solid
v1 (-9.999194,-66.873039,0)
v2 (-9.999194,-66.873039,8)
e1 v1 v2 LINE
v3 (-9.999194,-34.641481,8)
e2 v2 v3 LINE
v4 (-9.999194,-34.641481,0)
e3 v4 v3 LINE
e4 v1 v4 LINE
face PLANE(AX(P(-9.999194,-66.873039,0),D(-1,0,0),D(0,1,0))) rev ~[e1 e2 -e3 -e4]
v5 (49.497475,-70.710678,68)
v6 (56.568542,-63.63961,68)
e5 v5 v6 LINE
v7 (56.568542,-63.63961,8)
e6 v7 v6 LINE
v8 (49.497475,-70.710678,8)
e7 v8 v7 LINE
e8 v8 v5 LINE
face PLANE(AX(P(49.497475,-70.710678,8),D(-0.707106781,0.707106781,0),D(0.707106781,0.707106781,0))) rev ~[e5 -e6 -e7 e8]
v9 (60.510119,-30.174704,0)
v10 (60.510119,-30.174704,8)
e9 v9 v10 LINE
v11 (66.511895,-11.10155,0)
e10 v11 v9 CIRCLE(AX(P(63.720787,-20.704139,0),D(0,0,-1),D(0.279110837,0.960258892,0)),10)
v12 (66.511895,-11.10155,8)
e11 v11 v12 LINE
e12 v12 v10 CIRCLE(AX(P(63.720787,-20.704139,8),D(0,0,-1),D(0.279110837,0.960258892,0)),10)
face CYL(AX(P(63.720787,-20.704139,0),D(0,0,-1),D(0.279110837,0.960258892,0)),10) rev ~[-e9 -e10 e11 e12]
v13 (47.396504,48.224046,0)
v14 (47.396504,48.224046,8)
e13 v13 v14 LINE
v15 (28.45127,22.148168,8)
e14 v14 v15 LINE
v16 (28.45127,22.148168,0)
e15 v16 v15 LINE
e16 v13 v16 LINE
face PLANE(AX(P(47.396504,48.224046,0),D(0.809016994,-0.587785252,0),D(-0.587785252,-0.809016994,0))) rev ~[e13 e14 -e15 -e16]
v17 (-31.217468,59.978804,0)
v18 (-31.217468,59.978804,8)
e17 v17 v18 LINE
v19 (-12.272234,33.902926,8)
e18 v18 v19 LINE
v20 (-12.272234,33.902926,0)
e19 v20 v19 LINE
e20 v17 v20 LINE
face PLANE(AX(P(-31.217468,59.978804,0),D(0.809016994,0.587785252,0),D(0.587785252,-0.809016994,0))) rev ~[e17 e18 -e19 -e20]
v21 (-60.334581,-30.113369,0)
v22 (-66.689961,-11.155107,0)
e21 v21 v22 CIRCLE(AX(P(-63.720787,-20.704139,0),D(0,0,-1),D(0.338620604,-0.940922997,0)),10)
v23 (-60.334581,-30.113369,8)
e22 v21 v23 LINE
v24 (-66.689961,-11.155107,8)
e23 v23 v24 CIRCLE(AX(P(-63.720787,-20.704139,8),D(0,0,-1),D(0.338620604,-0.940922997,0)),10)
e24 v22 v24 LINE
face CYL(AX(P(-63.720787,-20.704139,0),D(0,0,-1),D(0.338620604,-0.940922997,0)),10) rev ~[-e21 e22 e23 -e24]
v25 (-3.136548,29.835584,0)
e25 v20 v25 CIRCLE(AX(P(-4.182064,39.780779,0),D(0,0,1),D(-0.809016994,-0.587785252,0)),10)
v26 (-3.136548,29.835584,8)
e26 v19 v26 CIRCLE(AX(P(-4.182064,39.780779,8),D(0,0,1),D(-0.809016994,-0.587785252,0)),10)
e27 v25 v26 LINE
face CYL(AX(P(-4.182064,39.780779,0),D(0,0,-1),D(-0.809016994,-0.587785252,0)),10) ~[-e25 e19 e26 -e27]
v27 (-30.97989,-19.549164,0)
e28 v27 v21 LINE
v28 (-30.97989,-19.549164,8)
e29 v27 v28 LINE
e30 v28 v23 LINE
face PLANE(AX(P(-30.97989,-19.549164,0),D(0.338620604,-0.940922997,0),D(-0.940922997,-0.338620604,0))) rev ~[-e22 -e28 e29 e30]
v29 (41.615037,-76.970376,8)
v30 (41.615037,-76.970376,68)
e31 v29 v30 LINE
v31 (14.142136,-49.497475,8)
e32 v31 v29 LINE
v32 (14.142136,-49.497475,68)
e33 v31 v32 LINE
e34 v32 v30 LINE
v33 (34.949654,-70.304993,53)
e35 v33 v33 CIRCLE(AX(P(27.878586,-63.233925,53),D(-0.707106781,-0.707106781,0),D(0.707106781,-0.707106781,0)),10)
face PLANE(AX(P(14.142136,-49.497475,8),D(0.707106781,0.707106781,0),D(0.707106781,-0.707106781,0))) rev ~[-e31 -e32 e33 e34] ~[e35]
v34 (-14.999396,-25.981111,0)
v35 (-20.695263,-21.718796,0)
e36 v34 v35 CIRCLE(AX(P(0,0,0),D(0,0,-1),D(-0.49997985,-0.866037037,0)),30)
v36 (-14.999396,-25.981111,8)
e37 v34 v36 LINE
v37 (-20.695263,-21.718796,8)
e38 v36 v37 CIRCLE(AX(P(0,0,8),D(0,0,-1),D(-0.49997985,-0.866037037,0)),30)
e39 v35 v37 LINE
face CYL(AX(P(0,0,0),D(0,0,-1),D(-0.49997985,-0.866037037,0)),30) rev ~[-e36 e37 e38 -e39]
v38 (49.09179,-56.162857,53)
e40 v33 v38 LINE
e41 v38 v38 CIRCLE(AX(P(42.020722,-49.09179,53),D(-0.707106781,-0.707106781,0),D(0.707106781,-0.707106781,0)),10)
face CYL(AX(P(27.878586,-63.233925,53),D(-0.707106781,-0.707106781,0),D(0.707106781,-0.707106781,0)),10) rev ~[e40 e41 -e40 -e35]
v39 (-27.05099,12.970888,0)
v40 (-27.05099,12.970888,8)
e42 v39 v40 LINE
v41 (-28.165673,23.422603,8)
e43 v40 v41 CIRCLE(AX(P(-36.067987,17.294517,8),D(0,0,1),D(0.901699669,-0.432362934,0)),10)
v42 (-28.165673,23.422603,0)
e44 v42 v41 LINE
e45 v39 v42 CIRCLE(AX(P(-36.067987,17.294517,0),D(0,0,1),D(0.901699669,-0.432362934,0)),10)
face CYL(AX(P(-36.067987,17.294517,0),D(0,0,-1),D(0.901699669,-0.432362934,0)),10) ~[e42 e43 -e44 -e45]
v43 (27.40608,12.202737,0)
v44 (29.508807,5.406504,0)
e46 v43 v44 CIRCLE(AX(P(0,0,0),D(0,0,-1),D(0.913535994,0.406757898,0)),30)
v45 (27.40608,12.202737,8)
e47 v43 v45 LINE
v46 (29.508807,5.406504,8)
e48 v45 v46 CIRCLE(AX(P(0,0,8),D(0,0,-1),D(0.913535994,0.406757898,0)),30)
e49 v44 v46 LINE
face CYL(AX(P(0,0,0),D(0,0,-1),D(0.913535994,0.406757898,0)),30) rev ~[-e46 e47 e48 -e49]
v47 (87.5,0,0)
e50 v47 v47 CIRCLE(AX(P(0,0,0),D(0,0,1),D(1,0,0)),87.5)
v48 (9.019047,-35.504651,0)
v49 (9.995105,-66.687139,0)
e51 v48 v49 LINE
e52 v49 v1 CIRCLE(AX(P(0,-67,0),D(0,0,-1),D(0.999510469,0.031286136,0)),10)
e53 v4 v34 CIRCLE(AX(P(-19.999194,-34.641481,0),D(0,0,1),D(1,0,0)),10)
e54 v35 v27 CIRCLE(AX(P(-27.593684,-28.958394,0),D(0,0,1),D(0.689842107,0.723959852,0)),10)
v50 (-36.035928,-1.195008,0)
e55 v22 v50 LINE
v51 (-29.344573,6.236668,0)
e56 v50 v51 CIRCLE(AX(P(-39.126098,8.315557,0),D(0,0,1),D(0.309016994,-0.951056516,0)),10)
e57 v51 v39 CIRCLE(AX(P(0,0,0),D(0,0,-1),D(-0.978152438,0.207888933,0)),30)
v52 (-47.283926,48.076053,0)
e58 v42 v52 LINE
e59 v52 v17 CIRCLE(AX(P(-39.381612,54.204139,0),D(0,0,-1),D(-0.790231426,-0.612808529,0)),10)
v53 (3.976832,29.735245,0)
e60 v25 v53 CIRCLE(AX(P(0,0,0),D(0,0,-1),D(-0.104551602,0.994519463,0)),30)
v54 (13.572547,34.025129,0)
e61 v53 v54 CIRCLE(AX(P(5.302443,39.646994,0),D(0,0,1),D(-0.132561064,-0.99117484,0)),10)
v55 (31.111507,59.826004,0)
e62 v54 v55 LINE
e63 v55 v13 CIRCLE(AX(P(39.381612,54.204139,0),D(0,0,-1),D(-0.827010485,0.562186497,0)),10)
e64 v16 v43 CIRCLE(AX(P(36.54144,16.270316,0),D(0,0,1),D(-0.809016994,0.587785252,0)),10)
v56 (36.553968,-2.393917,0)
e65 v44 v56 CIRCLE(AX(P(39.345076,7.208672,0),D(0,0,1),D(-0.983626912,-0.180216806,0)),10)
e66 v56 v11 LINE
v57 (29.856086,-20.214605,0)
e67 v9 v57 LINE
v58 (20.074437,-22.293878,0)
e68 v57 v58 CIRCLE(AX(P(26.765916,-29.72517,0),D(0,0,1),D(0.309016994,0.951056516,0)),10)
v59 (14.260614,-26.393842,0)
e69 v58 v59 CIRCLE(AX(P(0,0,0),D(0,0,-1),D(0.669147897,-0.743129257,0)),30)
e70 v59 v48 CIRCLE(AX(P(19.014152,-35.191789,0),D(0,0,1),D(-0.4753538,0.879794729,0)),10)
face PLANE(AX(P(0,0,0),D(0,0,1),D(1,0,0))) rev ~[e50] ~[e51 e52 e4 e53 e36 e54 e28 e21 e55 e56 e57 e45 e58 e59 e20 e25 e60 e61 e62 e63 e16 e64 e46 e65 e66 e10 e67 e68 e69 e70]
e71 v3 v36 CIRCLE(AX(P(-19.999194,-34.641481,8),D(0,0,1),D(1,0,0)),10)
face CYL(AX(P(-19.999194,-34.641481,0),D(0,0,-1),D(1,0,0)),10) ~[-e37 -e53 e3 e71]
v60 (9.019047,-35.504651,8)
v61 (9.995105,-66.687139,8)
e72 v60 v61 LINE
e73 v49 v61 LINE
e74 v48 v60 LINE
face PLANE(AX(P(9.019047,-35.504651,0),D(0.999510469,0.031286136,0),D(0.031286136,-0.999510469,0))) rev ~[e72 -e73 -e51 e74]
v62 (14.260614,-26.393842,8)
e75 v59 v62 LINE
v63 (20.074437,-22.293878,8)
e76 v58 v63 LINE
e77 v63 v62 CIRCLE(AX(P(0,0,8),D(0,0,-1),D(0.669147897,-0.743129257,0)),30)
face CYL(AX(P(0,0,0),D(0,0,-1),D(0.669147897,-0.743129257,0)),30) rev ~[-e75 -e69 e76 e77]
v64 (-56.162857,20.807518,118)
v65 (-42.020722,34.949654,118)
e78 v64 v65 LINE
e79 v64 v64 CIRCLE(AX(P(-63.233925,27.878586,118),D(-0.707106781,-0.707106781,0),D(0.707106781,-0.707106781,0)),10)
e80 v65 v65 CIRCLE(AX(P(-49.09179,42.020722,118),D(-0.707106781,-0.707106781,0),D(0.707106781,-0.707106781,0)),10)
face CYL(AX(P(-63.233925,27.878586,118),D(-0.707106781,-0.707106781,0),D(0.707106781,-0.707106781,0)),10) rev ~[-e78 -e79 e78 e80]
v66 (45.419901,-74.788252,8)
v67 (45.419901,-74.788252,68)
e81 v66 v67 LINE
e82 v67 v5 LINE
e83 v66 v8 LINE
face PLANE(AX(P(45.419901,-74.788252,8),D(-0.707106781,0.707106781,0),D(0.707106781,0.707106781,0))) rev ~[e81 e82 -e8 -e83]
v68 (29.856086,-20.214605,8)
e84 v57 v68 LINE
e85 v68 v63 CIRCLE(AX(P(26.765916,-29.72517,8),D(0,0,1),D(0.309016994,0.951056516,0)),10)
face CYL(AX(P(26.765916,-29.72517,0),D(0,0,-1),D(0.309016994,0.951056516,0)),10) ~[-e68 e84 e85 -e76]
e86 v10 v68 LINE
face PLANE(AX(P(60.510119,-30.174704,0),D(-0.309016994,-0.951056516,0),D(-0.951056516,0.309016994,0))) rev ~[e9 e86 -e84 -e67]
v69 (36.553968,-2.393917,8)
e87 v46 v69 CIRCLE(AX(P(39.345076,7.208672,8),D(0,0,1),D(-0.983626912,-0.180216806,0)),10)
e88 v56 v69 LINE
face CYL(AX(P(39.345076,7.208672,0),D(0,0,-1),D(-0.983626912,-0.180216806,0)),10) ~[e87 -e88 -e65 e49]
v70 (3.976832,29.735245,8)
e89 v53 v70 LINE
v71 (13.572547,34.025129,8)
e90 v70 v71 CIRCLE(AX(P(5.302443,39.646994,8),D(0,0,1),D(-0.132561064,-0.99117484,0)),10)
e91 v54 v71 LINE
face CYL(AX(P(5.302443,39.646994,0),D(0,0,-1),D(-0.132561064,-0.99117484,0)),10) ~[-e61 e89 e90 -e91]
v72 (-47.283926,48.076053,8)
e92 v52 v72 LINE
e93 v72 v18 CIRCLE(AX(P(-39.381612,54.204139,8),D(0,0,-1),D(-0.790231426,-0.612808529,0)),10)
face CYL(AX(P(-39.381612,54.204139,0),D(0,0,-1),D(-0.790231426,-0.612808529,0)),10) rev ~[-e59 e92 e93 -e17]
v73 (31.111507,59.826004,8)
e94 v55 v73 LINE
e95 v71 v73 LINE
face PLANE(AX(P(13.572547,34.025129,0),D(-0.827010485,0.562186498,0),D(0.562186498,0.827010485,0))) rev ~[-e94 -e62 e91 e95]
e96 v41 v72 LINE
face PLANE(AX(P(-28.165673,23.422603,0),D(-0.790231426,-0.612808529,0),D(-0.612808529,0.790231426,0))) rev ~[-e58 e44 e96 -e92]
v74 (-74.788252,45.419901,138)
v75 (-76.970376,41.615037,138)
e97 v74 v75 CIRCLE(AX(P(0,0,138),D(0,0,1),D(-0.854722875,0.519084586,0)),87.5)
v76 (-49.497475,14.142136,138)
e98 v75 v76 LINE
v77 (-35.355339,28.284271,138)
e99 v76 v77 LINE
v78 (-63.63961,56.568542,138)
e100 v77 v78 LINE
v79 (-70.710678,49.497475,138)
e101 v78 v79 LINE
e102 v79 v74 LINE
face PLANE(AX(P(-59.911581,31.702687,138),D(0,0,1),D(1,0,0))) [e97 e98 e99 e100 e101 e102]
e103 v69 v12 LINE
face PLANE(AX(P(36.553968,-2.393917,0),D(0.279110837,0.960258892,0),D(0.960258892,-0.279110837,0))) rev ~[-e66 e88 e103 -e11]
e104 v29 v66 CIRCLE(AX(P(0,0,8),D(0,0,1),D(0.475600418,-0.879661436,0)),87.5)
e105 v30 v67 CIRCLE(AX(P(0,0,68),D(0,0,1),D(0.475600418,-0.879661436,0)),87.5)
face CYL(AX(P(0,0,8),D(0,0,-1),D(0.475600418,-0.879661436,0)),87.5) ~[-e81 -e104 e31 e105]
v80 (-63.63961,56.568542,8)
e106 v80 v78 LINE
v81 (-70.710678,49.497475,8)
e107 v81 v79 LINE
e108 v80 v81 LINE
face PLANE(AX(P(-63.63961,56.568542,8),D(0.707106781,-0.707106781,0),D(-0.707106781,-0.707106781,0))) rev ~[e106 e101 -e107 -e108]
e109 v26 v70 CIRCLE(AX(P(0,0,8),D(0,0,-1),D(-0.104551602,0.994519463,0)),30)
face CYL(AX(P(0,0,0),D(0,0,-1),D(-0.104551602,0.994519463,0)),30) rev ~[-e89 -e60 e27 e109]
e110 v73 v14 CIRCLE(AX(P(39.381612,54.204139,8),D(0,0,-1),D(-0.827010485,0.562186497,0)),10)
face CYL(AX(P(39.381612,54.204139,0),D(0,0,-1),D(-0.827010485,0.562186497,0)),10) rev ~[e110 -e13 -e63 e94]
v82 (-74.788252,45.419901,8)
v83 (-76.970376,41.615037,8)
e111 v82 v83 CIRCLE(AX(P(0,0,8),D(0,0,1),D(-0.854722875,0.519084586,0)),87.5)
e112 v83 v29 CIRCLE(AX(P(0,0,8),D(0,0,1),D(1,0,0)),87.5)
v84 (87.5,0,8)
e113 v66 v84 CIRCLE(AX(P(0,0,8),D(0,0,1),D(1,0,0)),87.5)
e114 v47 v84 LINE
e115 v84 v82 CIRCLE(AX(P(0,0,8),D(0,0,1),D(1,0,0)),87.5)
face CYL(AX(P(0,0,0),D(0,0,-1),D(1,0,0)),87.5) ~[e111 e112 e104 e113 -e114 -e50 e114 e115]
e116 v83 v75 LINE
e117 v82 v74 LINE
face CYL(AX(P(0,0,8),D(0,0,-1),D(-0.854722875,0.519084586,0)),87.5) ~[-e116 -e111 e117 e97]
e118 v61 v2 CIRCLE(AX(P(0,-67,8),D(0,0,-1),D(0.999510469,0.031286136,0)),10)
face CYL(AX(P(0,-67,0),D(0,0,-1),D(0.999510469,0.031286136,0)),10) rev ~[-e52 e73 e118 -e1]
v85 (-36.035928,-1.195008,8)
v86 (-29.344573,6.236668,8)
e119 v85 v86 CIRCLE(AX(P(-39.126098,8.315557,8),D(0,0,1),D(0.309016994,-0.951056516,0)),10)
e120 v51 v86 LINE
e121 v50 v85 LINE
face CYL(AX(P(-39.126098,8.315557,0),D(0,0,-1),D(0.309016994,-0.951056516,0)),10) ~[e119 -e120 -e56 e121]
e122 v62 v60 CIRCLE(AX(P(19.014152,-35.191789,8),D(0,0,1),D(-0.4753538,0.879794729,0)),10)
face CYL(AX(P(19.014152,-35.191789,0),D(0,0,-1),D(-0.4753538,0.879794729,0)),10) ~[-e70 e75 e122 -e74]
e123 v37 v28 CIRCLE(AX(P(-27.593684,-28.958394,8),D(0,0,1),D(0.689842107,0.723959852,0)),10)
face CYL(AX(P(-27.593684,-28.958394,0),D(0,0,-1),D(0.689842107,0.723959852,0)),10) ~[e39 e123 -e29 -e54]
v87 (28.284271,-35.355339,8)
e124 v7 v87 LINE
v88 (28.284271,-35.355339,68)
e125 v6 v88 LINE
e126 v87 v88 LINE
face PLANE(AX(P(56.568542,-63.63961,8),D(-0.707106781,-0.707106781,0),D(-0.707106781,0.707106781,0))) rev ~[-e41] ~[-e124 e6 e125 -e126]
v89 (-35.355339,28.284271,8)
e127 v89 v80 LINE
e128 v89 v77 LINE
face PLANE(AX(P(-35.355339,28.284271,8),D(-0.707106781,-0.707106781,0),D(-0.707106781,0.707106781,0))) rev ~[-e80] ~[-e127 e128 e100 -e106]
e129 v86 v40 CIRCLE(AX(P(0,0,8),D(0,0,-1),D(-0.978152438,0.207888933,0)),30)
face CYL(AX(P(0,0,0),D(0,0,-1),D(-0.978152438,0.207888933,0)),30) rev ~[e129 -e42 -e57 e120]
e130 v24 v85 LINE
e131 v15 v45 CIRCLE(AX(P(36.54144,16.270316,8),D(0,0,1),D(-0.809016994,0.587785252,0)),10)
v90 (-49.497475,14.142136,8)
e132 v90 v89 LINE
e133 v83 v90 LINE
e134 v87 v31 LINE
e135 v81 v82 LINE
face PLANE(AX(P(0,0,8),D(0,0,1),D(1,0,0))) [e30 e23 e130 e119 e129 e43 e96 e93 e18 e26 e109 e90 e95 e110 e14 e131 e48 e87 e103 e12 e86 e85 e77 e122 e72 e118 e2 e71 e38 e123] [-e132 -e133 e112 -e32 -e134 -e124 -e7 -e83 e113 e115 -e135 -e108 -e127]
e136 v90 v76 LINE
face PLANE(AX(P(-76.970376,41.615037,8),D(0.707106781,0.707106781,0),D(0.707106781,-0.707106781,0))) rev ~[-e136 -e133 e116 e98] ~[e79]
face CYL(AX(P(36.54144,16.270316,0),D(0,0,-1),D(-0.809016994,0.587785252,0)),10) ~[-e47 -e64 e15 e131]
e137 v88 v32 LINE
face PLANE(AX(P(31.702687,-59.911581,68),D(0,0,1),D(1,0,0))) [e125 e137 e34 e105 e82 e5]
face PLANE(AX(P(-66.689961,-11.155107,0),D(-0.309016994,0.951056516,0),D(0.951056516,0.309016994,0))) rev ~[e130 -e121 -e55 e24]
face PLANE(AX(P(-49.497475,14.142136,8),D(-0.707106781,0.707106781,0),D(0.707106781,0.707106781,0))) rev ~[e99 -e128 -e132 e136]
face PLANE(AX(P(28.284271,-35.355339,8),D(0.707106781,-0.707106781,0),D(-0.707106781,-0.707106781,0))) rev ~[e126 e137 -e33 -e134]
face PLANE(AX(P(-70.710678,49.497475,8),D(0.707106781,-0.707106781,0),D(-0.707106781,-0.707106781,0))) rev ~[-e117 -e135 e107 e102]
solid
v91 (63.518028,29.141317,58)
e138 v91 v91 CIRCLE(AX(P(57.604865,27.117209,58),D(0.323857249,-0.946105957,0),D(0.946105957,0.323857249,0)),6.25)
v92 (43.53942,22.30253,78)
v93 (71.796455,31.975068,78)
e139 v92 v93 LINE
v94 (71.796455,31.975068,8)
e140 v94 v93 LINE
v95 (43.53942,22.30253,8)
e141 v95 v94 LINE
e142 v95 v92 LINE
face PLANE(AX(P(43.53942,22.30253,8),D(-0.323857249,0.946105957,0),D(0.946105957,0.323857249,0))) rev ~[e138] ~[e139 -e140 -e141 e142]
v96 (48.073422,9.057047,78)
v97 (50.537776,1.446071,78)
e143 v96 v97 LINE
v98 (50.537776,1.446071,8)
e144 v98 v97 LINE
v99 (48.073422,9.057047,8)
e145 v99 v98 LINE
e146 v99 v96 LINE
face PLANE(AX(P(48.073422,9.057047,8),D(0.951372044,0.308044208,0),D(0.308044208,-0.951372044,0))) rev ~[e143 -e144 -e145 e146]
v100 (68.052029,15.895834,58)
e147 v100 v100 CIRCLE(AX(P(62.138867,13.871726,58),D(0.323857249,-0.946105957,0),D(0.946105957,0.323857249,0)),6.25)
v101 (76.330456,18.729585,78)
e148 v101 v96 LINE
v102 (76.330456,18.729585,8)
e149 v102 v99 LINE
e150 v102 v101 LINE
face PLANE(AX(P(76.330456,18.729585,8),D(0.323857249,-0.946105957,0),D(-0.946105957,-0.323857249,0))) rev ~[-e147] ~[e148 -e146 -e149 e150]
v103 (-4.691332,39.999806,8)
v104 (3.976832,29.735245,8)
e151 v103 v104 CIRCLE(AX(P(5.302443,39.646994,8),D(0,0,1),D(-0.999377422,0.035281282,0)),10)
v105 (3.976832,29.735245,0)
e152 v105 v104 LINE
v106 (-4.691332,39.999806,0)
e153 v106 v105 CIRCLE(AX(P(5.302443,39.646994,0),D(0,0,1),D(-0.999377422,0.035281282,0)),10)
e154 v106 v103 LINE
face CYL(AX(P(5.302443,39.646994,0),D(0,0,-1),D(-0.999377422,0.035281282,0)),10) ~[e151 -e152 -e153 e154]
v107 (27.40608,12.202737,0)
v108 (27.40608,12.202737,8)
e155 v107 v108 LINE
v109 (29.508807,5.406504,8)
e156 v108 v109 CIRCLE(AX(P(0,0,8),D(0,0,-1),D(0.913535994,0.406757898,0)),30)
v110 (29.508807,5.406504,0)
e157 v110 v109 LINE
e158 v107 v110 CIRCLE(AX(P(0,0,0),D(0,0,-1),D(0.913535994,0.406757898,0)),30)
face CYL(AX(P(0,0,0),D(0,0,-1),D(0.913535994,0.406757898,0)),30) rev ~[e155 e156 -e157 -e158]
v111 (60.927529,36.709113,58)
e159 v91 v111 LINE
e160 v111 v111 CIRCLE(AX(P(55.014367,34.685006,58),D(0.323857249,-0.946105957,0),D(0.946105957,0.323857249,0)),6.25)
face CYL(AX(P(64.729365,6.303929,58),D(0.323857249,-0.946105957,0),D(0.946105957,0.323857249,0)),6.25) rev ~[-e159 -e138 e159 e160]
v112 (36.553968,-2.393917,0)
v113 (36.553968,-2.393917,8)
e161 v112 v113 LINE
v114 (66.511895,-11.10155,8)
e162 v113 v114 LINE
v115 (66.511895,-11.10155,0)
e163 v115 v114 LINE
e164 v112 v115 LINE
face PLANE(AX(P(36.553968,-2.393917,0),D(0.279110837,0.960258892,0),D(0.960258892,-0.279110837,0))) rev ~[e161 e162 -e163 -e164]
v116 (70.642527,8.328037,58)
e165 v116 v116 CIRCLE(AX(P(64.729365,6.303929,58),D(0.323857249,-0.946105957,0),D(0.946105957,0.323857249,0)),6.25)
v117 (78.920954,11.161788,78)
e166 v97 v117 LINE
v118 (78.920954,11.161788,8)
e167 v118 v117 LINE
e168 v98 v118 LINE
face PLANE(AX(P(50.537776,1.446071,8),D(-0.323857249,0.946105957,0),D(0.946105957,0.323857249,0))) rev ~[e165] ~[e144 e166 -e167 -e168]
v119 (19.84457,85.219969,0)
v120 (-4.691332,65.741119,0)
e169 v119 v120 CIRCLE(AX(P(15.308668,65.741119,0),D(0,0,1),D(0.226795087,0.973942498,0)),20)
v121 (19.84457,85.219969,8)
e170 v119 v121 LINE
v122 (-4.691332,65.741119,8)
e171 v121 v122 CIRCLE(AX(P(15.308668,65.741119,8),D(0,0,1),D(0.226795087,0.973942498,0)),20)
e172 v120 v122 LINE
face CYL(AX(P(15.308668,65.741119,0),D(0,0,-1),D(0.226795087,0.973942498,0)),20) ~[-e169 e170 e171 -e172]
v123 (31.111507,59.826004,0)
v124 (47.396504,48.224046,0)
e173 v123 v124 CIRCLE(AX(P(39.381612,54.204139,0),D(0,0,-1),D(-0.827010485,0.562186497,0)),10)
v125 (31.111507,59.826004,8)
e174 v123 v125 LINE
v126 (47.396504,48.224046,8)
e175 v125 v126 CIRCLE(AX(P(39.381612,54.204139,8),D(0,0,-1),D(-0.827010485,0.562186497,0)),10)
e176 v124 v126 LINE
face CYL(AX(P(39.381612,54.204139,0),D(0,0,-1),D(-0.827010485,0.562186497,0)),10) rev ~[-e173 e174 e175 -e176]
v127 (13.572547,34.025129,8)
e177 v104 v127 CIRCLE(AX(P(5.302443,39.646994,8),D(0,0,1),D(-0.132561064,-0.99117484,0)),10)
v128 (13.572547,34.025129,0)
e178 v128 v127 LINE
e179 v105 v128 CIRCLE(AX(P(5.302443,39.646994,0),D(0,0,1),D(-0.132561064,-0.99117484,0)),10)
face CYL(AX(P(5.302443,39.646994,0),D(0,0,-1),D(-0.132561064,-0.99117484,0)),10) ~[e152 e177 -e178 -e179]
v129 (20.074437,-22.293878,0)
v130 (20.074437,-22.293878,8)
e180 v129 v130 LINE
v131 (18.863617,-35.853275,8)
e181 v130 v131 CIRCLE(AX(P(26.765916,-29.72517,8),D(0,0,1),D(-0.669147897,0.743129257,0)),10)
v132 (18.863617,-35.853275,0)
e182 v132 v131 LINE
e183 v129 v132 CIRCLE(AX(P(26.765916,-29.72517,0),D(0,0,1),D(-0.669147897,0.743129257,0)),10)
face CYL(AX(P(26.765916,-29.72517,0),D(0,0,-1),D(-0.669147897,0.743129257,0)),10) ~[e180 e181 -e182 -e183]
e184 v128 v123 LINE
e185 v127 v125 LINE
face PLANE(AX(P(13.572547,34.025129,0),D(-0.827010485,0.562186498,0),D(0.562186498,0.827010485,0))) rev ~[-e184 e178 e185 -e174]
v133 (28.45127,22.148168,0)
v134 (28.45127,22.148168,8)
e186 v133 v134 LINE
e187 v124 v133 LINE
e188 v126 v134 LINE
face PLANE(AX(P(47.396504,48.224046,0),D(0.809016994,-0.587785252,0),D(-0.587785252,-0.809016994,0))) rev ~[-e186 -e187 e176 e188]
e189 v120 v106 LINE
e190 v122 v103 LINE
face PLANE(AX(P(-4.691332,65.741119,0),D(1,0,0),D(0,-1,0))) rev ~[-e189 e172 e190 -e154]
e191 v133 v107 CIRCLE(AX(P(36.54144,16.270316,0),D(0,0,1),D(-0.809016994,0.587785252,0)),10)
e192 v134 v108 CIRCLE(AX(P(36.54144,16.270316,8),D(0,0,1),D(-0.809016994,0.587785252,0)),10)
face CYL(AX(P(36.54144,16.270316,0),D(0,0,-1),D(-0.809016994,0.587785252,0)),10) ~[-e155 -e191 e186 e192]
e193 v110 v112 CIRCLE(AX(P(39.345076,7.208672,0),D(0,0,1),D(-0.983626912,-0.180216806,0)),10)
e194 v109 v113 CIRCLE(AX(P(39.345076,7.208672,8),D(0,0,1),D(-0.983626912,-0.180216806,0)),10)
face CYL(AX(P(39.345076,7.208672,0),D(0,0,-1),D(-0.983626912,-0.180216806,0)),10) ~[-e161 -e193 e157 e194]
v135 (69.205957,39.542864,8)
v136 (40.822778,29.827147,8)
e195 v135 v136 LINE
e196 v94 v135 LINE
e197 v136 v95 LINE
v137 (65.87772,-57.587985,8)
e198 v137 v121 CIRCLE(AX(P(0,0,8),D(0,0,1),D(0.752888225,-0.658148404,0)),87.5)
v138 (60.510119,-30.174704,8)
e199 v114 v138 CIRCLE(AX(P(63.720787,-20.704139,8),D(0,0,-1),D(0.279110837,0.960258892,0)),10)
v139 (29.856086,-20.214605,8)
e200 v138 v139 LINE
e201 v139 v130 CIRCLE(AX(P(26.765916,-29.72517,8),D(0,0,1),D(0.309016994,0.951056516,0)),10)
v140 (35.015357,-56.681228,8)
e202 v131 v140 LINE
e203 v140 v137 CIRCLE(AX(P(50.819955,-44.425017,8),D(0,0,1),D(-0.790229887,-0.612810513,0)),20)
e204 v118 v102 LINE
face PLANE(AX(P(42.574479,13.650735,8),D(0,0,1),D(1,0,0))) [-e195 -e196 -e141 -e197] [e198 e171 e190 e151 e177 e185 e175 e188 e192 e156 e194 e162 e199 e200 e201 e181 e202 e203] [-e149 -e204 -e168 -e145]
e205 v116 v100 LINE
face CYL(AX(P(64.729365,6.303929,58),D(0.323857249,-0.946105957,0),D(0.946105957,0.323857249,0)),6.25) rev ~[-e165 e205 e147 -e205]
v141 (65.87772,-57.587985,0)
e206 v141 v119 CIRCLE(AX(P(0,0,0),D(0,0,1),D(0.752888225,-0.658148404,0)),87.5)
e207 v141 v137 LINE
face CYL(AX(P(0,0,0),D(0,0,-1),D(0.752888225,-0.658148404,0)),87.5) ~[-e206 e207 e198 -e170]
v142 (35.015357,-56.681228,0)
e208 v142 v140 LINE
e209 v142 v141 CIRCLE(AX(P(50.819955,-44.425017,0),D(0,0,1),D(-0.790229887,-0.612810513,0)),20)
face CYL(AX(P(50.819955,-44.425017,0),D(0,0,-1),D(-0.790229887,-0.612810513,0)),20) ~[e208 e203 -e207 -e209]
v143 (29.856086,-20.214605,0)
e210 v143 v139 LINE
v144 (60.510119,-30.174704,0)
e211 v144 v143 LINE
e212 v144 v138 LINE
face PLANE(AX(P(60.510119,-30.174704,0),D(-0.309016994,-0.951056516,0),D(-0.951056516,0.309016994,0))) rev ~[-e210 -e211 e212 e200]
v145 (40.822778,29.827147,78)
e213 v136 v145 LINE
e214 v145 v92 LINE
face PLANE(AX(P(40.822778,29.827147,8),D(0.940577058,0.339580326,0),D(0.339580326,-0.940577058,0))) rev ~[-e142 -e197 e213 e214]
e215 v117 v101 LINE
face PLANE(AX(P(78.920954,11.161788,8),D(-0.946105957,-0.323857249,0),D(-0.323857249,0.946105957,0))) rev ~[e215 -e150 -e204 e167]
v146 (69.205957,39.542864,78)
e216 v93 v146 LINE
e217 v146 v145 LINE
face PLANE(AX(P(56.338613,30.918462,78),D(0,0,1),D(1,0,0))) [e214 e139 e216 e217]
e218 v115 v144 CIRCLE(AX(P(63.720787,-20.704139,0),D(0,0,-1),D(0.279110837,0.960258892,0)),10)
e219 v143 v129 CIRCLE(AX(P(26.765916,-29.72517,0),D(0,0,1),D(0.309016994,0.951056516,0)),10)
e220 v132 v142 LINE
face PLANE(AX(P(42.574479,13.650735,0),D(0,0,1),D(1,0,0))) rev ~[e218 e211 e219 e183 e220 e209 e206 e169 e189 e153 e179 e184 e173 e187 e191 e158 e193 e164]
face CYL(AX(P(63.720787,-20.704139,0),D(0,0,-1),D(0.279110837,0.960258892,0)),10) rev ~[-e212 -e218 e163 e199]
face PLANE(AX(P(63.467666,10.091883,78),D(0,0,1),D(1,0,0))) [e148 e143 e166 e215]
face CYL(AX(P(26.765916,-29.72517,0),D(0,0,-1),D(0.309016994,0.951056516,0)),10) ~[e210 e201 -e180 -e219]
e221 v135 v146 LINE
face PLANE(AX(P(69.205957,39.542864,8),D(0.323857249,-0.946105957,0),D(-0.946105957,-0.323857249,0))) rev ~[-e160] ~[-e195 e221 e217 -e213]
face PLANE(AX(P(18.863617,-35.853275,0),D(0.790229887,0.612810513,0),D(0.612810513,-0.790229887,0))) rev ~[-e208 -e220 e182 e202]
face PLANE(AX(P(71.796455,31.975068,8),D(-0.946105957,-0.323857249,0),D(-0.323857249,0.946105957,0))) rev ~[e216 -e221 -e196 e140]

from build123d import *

# Parameters (mm, degrees)
F0_R      = 87.5
F1_DEPTH  = 8
F3_DEPTH  = 60
F4_DEPTH  = 130
F5_R      = 10
F6_DEPTH  = 148.7446867076
F7_R      = 10
F8_DEPTH  = 148.7446867076
F10_DEPTH = 8
F12_DEPTH = 70
F13_R     = 6.25
F14_DEPTH = 126.1216693821


with BuildPart() as f1:
    # F0 (on Top) → F1 (new body)
    with BuildSketch(Plane.XY):
        Circle(F0_R)
        with BuildLine():
            ThreePointArc((9.9951046903, -66.6871386401), (0.0929727344, -76.9995677942), (-9.9991940145, -66.8730391372))
            Line((-9.9991940145, -66.8730391372), (-9.9991940145, -34.6414814748))
            ThreePointArc((-9.9991940145, -34.6414814748), (-11.3389981438, -29.6413807277), (-14.9993955109, -25.9811111061))
            ThreePointArc((-14.9993955109, -25.9811111061), (-17.9741202524, -24.0193880262), (-20.6952632149, -21.7187955575))
            ThreePointArc((-20.6952632149, -21.7187955575), (-25.5295285859, -19.1737499214), (-30.9798903314, -19.549164107))
            Line((-30.9798903314, -19.549164107), (-60.3345805469, -30.1133685928))
            ThreePointArc((-60.3345805469, -30.1133685928), (-73.2022105476, -23.8825973329), (-66.6899605164, -11.1551069337))
            Line((-66.6899605164, -11.1551069337), (-36.0359275713, -1.1950078609))
            ThreePointArc((-36.0359275713, -1.1950078609), (-31.6945714187, 1.6243376914), (-29.3445731363, 6.2366679766))
            ThreePointArc((-29.3445731363, 6.2366679766), (-28.3981041167, 9.6720050961), (-27.0509900775, 12.9708880124))
            ThreePointArc((-27.0509900775, 12.9708880124), (-26.124377996, 18.355009948), (-28.1656725083, 23.4226026389))
            Line((-28.1656725083, 23.4226026389), (-47.2839261652, 48.076053334))
            ThreePointArc((-47.2839261652, 48.076053334), (-45.3344269045, 62.2393109029), (-31.2174682931, 59.978803904))
            Line((-31.2174682931, 59.978803904), (-12.2722340407, 33.902926))
            ThreePointArc((-12.2722340407, 33.902926), (-8.2493242518, 30.6452766301), (-3.1365480727, 29.8355838922))
            ThreePointArc((-3.1365480727, 29.8355838922), (0.4231266922, 29.997015915), (3.9768319177, 29.7352452134))
            ThreePointArc((3.9768319177, 29.7352452134), (9.3837750494, 30.5177699331), (13.5725474053, 34.0251286428))
            Line((13.5725474053, 34.0251286428), (31.1115070552, 59.8260035981))
            ThreePointArc((31.1115070552, 59.8260035981), (45.1839938601, 62.3486069072), (47.3965040686, 48.224046351))
            Line((47.3965040686, 48.224046351), (28.4512698162, 22.1481684469))
            ThreePointArc((28.4512698162, 22.1481684469), (26.5962086468, 17.3154848607), (27.40607982, 12.202736943))
            ThreePointArc((27.40607982, 12.202736943), (28.659610794, 8.8671703004), (29.5088073701, 5.4065041933))
            ThreePointArc((29.5088073701, 5.4065041933), (31.9238699193, 0.5060091315), (36.5539681187, -2.3939166661))
            Line((36.5539681187, -2.3939166661), (66.5118949666, -11.1015496993))
            ThreePointArc((66.5118949666, -11.1015496993), (73.2596708575, -23.705752683), (60.5101187554, -30.1747041841))
            Line((60.5101187554, -30.1747041841), (29.8560858102, -20.2146051112))
            ThreePointArc((29.8560858102, -20.2146051112), (24.6866851674, -19.9437184545), (20.0744368999, -22.2938777056))
            ThreePointArc((20.0744368999, -22.2938777056), (17.2894868828, -24.5168032853), (14.2606140045, -26.3938418616))
            ThreePointArc((14.2606140045, -26.3938418616), (10.3462616131, -30.2050390912), (9.0190473158, -35.5046505087))
            Line((9.0190473158, -35.5046505087), (9.9951046903, -66.6871386401))
        make_face(mode=Mode.SUBTRACT)
    extrude(amount=F1_DEPTH)

    # F2 (on face) → F3 (join)
    with BuildSketch(Plane.XY.offset(8)):
        with BuildLine():
            Line((45.4199012453, -74.7882515564), (49.4974746831, -70.7106781187))
            Line((49.4974746831, -70.7106781187), (21.2132034356, -42.4264068712))
            Line((21.2132034356, -42.4264068712), (14.1421356237, -49.4974746831))
            Line((14.1421356237, -49.4974746831), (41.6150365985, -76.9703756578))
            ThreePointArc((41.6150365985, -76.9703756578), (43.5311442276, -75.9031585788), (45.4199012453, -74.7882515564))
        make_face()
        Polygon((21.2132034356, -42.4264068712), (49.4974746831, -70.7106781187), (56.5685424949, -63.6396103068), (28.2842712475, -35.3553390593), align=None)
    extrude(amount=F3_DEPTH)

    # F2 (on face) → F4 (join)
    with BuildSketch(Plane.XY.offset(8)):
        with BuildLine():
            ThreePointArc((-74.7882515564, 45.4199012453), (-75.9031585788, 43.5311442276), (-76.9703756578, 41.6150365985))
            Line((-76.9703756578, 41.6150365985), (-49.4974746831, 14.1421356237))
            Line((-49.4974746831, 14.1421356237), (-42.4264068712, 21.2132034356))
            Line((-42.4264068712, 21.2132034356), (-70.7106781187, 49.4974746831))
            Line((-70.7106781187, 49.4974746831), (-74.7882515564, 45.4199012453))
        make_face()
        Polygon((-63.6396103068, 56.5685424949), (-70.7106781187, 49.4974746831), (-42.4264068712, 21.2132034356), (-35.3553390593, 28.2842712475), align=None)
    extrude(amount=F4_DEPTH)

    # F5 (on face) → F6 (cut, through all)
    with BuildSketch(Plane(origin=(-17.6776695297, -17.6776695297, 0), x_dir=(0.7071067812, -0.7071067812, 0), z_dir=(-0.7071067812, -0.7071067812, 0))):
        with Locations((-64.4262745781, 118)):
            Circle(F5_R)
    extrude(amount=-F6_DEPTH, mode=Mode.SUBTRACT)

    # F7 (on face) → F8 (cut, through all)
    with BuildSketch(Plane(origin=(-17.6776695297, -17.6776695297, 0), x_dir=(0.7071067812, -0.7071067812, 0), z_dir=(-0.7071067812, -0.7071067812, 0))):
        with Locations((64.4262745781, 53)):
            Circle(F7_R)
    extrude(amount=-F8_DEPTH, mode=Mode.SUBTRACT)


with BuildPart() as f10:
    # F9 (on Top) → F10 (new body)
    with BuildSketch(Plane.XY):
        with BuildLine():
            ThreePointArc((35.0153574254, -56.6812275064), (50.23259463, -64.4163905672), (65.8777196641, -57.5879853082))
            ThreePointArc((65.8777196641, -57.5879853082), (83.2802837423, 26.8448196082), (19.8445700695, 85.2199685447))
            ThreePointArc((19.8445700695, 85.2199685447), (2.873195582, 81.4050586228), (-4.6913316607, 65.7411185916))
            Line((-4.6913316607, 65.7411185916), (-4.6913316607, 39.9998064404))
            ThreePointArc((-4.6913316607, 39.9998064404), (-2.3377421712, 33.1950499324), (3.9768319177, 29.7352452134))
            ThreePointArc((3.9768319177, 29.7352452134), (9.3837750494, 30.5177699331), (13.5725474053, 34.0251286428))
            Line((13.5725474053, 34.0251286428), (31.1115070552, 59.8260035981))
            ThreePointArc((31.1115070552, 59.8260035981), (45.1839938601, 62.3486069072), (47.3965040686, 48.224046351))
            Line((47.3965040686, 48.224046351), (28.4512698162, 22.1481684469))
            ThreePointArc((28.4512698162, 22.1481684469), (26.5962086468, 17.3154848607), (27.40607982, 12.202736943))
            ThreePointArc((27.40607982, 12.202736943), (28.659610794, 8.8671703004), (29.5088073701, 5.4065041933))
            ThreePointArc((29.5088073701, 5.4065041933), (31.9238699193, 0.5060091315), (36.5539681187, -2.3939166661))
            Line((36.5539681187, -2.3939166661), (66.5118949666, -11.1015496993))
            ThreePointArc((66.5118949666, -11.1015496993), (73.2596708575, -23.705752683), (60.5101187554, -30.1747041841))
            Line((60.5101187554, -30.1747041841), (29.8560858102, -20.2146051112))
            ThreePointArc((29.8560858102, -20.2146051112), (24.6866851674, -19.9437184545), (20.0744368999, -22.2938777056))
            ThreePointArc((20.0744368999, -22.2938777056), (16.8055491856, -28.8357347324), (18.8636169945, -35.8532754085))
            Line((18.8636169945, -35.8532754085), (35.0153574254, -56.6812275064))
        make_face()
    extrude(amount=F10_DEPTH)

    # F11 (on face) → F12 (join)
    with BuildSketch(Plane.XY.offset(8)):
        Polygon((40.8227778183, 29.8271468933), (43.5394204286, 22.3025304294), (71.7964546783, 31.975067943), (69.2059565392, 39.5428643499), align=None)
        Polygon((48.0734219083, 9.0570470264), (50.5377755762, 1.4460706764), (78.9209542971, 11.161788133), (76.330456158, 18.7295845399), align=None)
    extrude(amount=F12_DEPTH)

    # F13 (on face) → F14 (cut, through all)
    with BuildSketch(Plane(origin=(4.857498879, -14.1905381084, 0), x_dir=(0.9461059574, 0.3238572486, 0), z_dir=(0.3238572486, -0.9461059574, 0))):
        with Locations((63.282411015, 58)):
            Circle(F13_R)
    extrude(amount=-F14_DEPTH, mode=Mode.SUBTRACT)


solid = Compound([f1.part, f10.part])
